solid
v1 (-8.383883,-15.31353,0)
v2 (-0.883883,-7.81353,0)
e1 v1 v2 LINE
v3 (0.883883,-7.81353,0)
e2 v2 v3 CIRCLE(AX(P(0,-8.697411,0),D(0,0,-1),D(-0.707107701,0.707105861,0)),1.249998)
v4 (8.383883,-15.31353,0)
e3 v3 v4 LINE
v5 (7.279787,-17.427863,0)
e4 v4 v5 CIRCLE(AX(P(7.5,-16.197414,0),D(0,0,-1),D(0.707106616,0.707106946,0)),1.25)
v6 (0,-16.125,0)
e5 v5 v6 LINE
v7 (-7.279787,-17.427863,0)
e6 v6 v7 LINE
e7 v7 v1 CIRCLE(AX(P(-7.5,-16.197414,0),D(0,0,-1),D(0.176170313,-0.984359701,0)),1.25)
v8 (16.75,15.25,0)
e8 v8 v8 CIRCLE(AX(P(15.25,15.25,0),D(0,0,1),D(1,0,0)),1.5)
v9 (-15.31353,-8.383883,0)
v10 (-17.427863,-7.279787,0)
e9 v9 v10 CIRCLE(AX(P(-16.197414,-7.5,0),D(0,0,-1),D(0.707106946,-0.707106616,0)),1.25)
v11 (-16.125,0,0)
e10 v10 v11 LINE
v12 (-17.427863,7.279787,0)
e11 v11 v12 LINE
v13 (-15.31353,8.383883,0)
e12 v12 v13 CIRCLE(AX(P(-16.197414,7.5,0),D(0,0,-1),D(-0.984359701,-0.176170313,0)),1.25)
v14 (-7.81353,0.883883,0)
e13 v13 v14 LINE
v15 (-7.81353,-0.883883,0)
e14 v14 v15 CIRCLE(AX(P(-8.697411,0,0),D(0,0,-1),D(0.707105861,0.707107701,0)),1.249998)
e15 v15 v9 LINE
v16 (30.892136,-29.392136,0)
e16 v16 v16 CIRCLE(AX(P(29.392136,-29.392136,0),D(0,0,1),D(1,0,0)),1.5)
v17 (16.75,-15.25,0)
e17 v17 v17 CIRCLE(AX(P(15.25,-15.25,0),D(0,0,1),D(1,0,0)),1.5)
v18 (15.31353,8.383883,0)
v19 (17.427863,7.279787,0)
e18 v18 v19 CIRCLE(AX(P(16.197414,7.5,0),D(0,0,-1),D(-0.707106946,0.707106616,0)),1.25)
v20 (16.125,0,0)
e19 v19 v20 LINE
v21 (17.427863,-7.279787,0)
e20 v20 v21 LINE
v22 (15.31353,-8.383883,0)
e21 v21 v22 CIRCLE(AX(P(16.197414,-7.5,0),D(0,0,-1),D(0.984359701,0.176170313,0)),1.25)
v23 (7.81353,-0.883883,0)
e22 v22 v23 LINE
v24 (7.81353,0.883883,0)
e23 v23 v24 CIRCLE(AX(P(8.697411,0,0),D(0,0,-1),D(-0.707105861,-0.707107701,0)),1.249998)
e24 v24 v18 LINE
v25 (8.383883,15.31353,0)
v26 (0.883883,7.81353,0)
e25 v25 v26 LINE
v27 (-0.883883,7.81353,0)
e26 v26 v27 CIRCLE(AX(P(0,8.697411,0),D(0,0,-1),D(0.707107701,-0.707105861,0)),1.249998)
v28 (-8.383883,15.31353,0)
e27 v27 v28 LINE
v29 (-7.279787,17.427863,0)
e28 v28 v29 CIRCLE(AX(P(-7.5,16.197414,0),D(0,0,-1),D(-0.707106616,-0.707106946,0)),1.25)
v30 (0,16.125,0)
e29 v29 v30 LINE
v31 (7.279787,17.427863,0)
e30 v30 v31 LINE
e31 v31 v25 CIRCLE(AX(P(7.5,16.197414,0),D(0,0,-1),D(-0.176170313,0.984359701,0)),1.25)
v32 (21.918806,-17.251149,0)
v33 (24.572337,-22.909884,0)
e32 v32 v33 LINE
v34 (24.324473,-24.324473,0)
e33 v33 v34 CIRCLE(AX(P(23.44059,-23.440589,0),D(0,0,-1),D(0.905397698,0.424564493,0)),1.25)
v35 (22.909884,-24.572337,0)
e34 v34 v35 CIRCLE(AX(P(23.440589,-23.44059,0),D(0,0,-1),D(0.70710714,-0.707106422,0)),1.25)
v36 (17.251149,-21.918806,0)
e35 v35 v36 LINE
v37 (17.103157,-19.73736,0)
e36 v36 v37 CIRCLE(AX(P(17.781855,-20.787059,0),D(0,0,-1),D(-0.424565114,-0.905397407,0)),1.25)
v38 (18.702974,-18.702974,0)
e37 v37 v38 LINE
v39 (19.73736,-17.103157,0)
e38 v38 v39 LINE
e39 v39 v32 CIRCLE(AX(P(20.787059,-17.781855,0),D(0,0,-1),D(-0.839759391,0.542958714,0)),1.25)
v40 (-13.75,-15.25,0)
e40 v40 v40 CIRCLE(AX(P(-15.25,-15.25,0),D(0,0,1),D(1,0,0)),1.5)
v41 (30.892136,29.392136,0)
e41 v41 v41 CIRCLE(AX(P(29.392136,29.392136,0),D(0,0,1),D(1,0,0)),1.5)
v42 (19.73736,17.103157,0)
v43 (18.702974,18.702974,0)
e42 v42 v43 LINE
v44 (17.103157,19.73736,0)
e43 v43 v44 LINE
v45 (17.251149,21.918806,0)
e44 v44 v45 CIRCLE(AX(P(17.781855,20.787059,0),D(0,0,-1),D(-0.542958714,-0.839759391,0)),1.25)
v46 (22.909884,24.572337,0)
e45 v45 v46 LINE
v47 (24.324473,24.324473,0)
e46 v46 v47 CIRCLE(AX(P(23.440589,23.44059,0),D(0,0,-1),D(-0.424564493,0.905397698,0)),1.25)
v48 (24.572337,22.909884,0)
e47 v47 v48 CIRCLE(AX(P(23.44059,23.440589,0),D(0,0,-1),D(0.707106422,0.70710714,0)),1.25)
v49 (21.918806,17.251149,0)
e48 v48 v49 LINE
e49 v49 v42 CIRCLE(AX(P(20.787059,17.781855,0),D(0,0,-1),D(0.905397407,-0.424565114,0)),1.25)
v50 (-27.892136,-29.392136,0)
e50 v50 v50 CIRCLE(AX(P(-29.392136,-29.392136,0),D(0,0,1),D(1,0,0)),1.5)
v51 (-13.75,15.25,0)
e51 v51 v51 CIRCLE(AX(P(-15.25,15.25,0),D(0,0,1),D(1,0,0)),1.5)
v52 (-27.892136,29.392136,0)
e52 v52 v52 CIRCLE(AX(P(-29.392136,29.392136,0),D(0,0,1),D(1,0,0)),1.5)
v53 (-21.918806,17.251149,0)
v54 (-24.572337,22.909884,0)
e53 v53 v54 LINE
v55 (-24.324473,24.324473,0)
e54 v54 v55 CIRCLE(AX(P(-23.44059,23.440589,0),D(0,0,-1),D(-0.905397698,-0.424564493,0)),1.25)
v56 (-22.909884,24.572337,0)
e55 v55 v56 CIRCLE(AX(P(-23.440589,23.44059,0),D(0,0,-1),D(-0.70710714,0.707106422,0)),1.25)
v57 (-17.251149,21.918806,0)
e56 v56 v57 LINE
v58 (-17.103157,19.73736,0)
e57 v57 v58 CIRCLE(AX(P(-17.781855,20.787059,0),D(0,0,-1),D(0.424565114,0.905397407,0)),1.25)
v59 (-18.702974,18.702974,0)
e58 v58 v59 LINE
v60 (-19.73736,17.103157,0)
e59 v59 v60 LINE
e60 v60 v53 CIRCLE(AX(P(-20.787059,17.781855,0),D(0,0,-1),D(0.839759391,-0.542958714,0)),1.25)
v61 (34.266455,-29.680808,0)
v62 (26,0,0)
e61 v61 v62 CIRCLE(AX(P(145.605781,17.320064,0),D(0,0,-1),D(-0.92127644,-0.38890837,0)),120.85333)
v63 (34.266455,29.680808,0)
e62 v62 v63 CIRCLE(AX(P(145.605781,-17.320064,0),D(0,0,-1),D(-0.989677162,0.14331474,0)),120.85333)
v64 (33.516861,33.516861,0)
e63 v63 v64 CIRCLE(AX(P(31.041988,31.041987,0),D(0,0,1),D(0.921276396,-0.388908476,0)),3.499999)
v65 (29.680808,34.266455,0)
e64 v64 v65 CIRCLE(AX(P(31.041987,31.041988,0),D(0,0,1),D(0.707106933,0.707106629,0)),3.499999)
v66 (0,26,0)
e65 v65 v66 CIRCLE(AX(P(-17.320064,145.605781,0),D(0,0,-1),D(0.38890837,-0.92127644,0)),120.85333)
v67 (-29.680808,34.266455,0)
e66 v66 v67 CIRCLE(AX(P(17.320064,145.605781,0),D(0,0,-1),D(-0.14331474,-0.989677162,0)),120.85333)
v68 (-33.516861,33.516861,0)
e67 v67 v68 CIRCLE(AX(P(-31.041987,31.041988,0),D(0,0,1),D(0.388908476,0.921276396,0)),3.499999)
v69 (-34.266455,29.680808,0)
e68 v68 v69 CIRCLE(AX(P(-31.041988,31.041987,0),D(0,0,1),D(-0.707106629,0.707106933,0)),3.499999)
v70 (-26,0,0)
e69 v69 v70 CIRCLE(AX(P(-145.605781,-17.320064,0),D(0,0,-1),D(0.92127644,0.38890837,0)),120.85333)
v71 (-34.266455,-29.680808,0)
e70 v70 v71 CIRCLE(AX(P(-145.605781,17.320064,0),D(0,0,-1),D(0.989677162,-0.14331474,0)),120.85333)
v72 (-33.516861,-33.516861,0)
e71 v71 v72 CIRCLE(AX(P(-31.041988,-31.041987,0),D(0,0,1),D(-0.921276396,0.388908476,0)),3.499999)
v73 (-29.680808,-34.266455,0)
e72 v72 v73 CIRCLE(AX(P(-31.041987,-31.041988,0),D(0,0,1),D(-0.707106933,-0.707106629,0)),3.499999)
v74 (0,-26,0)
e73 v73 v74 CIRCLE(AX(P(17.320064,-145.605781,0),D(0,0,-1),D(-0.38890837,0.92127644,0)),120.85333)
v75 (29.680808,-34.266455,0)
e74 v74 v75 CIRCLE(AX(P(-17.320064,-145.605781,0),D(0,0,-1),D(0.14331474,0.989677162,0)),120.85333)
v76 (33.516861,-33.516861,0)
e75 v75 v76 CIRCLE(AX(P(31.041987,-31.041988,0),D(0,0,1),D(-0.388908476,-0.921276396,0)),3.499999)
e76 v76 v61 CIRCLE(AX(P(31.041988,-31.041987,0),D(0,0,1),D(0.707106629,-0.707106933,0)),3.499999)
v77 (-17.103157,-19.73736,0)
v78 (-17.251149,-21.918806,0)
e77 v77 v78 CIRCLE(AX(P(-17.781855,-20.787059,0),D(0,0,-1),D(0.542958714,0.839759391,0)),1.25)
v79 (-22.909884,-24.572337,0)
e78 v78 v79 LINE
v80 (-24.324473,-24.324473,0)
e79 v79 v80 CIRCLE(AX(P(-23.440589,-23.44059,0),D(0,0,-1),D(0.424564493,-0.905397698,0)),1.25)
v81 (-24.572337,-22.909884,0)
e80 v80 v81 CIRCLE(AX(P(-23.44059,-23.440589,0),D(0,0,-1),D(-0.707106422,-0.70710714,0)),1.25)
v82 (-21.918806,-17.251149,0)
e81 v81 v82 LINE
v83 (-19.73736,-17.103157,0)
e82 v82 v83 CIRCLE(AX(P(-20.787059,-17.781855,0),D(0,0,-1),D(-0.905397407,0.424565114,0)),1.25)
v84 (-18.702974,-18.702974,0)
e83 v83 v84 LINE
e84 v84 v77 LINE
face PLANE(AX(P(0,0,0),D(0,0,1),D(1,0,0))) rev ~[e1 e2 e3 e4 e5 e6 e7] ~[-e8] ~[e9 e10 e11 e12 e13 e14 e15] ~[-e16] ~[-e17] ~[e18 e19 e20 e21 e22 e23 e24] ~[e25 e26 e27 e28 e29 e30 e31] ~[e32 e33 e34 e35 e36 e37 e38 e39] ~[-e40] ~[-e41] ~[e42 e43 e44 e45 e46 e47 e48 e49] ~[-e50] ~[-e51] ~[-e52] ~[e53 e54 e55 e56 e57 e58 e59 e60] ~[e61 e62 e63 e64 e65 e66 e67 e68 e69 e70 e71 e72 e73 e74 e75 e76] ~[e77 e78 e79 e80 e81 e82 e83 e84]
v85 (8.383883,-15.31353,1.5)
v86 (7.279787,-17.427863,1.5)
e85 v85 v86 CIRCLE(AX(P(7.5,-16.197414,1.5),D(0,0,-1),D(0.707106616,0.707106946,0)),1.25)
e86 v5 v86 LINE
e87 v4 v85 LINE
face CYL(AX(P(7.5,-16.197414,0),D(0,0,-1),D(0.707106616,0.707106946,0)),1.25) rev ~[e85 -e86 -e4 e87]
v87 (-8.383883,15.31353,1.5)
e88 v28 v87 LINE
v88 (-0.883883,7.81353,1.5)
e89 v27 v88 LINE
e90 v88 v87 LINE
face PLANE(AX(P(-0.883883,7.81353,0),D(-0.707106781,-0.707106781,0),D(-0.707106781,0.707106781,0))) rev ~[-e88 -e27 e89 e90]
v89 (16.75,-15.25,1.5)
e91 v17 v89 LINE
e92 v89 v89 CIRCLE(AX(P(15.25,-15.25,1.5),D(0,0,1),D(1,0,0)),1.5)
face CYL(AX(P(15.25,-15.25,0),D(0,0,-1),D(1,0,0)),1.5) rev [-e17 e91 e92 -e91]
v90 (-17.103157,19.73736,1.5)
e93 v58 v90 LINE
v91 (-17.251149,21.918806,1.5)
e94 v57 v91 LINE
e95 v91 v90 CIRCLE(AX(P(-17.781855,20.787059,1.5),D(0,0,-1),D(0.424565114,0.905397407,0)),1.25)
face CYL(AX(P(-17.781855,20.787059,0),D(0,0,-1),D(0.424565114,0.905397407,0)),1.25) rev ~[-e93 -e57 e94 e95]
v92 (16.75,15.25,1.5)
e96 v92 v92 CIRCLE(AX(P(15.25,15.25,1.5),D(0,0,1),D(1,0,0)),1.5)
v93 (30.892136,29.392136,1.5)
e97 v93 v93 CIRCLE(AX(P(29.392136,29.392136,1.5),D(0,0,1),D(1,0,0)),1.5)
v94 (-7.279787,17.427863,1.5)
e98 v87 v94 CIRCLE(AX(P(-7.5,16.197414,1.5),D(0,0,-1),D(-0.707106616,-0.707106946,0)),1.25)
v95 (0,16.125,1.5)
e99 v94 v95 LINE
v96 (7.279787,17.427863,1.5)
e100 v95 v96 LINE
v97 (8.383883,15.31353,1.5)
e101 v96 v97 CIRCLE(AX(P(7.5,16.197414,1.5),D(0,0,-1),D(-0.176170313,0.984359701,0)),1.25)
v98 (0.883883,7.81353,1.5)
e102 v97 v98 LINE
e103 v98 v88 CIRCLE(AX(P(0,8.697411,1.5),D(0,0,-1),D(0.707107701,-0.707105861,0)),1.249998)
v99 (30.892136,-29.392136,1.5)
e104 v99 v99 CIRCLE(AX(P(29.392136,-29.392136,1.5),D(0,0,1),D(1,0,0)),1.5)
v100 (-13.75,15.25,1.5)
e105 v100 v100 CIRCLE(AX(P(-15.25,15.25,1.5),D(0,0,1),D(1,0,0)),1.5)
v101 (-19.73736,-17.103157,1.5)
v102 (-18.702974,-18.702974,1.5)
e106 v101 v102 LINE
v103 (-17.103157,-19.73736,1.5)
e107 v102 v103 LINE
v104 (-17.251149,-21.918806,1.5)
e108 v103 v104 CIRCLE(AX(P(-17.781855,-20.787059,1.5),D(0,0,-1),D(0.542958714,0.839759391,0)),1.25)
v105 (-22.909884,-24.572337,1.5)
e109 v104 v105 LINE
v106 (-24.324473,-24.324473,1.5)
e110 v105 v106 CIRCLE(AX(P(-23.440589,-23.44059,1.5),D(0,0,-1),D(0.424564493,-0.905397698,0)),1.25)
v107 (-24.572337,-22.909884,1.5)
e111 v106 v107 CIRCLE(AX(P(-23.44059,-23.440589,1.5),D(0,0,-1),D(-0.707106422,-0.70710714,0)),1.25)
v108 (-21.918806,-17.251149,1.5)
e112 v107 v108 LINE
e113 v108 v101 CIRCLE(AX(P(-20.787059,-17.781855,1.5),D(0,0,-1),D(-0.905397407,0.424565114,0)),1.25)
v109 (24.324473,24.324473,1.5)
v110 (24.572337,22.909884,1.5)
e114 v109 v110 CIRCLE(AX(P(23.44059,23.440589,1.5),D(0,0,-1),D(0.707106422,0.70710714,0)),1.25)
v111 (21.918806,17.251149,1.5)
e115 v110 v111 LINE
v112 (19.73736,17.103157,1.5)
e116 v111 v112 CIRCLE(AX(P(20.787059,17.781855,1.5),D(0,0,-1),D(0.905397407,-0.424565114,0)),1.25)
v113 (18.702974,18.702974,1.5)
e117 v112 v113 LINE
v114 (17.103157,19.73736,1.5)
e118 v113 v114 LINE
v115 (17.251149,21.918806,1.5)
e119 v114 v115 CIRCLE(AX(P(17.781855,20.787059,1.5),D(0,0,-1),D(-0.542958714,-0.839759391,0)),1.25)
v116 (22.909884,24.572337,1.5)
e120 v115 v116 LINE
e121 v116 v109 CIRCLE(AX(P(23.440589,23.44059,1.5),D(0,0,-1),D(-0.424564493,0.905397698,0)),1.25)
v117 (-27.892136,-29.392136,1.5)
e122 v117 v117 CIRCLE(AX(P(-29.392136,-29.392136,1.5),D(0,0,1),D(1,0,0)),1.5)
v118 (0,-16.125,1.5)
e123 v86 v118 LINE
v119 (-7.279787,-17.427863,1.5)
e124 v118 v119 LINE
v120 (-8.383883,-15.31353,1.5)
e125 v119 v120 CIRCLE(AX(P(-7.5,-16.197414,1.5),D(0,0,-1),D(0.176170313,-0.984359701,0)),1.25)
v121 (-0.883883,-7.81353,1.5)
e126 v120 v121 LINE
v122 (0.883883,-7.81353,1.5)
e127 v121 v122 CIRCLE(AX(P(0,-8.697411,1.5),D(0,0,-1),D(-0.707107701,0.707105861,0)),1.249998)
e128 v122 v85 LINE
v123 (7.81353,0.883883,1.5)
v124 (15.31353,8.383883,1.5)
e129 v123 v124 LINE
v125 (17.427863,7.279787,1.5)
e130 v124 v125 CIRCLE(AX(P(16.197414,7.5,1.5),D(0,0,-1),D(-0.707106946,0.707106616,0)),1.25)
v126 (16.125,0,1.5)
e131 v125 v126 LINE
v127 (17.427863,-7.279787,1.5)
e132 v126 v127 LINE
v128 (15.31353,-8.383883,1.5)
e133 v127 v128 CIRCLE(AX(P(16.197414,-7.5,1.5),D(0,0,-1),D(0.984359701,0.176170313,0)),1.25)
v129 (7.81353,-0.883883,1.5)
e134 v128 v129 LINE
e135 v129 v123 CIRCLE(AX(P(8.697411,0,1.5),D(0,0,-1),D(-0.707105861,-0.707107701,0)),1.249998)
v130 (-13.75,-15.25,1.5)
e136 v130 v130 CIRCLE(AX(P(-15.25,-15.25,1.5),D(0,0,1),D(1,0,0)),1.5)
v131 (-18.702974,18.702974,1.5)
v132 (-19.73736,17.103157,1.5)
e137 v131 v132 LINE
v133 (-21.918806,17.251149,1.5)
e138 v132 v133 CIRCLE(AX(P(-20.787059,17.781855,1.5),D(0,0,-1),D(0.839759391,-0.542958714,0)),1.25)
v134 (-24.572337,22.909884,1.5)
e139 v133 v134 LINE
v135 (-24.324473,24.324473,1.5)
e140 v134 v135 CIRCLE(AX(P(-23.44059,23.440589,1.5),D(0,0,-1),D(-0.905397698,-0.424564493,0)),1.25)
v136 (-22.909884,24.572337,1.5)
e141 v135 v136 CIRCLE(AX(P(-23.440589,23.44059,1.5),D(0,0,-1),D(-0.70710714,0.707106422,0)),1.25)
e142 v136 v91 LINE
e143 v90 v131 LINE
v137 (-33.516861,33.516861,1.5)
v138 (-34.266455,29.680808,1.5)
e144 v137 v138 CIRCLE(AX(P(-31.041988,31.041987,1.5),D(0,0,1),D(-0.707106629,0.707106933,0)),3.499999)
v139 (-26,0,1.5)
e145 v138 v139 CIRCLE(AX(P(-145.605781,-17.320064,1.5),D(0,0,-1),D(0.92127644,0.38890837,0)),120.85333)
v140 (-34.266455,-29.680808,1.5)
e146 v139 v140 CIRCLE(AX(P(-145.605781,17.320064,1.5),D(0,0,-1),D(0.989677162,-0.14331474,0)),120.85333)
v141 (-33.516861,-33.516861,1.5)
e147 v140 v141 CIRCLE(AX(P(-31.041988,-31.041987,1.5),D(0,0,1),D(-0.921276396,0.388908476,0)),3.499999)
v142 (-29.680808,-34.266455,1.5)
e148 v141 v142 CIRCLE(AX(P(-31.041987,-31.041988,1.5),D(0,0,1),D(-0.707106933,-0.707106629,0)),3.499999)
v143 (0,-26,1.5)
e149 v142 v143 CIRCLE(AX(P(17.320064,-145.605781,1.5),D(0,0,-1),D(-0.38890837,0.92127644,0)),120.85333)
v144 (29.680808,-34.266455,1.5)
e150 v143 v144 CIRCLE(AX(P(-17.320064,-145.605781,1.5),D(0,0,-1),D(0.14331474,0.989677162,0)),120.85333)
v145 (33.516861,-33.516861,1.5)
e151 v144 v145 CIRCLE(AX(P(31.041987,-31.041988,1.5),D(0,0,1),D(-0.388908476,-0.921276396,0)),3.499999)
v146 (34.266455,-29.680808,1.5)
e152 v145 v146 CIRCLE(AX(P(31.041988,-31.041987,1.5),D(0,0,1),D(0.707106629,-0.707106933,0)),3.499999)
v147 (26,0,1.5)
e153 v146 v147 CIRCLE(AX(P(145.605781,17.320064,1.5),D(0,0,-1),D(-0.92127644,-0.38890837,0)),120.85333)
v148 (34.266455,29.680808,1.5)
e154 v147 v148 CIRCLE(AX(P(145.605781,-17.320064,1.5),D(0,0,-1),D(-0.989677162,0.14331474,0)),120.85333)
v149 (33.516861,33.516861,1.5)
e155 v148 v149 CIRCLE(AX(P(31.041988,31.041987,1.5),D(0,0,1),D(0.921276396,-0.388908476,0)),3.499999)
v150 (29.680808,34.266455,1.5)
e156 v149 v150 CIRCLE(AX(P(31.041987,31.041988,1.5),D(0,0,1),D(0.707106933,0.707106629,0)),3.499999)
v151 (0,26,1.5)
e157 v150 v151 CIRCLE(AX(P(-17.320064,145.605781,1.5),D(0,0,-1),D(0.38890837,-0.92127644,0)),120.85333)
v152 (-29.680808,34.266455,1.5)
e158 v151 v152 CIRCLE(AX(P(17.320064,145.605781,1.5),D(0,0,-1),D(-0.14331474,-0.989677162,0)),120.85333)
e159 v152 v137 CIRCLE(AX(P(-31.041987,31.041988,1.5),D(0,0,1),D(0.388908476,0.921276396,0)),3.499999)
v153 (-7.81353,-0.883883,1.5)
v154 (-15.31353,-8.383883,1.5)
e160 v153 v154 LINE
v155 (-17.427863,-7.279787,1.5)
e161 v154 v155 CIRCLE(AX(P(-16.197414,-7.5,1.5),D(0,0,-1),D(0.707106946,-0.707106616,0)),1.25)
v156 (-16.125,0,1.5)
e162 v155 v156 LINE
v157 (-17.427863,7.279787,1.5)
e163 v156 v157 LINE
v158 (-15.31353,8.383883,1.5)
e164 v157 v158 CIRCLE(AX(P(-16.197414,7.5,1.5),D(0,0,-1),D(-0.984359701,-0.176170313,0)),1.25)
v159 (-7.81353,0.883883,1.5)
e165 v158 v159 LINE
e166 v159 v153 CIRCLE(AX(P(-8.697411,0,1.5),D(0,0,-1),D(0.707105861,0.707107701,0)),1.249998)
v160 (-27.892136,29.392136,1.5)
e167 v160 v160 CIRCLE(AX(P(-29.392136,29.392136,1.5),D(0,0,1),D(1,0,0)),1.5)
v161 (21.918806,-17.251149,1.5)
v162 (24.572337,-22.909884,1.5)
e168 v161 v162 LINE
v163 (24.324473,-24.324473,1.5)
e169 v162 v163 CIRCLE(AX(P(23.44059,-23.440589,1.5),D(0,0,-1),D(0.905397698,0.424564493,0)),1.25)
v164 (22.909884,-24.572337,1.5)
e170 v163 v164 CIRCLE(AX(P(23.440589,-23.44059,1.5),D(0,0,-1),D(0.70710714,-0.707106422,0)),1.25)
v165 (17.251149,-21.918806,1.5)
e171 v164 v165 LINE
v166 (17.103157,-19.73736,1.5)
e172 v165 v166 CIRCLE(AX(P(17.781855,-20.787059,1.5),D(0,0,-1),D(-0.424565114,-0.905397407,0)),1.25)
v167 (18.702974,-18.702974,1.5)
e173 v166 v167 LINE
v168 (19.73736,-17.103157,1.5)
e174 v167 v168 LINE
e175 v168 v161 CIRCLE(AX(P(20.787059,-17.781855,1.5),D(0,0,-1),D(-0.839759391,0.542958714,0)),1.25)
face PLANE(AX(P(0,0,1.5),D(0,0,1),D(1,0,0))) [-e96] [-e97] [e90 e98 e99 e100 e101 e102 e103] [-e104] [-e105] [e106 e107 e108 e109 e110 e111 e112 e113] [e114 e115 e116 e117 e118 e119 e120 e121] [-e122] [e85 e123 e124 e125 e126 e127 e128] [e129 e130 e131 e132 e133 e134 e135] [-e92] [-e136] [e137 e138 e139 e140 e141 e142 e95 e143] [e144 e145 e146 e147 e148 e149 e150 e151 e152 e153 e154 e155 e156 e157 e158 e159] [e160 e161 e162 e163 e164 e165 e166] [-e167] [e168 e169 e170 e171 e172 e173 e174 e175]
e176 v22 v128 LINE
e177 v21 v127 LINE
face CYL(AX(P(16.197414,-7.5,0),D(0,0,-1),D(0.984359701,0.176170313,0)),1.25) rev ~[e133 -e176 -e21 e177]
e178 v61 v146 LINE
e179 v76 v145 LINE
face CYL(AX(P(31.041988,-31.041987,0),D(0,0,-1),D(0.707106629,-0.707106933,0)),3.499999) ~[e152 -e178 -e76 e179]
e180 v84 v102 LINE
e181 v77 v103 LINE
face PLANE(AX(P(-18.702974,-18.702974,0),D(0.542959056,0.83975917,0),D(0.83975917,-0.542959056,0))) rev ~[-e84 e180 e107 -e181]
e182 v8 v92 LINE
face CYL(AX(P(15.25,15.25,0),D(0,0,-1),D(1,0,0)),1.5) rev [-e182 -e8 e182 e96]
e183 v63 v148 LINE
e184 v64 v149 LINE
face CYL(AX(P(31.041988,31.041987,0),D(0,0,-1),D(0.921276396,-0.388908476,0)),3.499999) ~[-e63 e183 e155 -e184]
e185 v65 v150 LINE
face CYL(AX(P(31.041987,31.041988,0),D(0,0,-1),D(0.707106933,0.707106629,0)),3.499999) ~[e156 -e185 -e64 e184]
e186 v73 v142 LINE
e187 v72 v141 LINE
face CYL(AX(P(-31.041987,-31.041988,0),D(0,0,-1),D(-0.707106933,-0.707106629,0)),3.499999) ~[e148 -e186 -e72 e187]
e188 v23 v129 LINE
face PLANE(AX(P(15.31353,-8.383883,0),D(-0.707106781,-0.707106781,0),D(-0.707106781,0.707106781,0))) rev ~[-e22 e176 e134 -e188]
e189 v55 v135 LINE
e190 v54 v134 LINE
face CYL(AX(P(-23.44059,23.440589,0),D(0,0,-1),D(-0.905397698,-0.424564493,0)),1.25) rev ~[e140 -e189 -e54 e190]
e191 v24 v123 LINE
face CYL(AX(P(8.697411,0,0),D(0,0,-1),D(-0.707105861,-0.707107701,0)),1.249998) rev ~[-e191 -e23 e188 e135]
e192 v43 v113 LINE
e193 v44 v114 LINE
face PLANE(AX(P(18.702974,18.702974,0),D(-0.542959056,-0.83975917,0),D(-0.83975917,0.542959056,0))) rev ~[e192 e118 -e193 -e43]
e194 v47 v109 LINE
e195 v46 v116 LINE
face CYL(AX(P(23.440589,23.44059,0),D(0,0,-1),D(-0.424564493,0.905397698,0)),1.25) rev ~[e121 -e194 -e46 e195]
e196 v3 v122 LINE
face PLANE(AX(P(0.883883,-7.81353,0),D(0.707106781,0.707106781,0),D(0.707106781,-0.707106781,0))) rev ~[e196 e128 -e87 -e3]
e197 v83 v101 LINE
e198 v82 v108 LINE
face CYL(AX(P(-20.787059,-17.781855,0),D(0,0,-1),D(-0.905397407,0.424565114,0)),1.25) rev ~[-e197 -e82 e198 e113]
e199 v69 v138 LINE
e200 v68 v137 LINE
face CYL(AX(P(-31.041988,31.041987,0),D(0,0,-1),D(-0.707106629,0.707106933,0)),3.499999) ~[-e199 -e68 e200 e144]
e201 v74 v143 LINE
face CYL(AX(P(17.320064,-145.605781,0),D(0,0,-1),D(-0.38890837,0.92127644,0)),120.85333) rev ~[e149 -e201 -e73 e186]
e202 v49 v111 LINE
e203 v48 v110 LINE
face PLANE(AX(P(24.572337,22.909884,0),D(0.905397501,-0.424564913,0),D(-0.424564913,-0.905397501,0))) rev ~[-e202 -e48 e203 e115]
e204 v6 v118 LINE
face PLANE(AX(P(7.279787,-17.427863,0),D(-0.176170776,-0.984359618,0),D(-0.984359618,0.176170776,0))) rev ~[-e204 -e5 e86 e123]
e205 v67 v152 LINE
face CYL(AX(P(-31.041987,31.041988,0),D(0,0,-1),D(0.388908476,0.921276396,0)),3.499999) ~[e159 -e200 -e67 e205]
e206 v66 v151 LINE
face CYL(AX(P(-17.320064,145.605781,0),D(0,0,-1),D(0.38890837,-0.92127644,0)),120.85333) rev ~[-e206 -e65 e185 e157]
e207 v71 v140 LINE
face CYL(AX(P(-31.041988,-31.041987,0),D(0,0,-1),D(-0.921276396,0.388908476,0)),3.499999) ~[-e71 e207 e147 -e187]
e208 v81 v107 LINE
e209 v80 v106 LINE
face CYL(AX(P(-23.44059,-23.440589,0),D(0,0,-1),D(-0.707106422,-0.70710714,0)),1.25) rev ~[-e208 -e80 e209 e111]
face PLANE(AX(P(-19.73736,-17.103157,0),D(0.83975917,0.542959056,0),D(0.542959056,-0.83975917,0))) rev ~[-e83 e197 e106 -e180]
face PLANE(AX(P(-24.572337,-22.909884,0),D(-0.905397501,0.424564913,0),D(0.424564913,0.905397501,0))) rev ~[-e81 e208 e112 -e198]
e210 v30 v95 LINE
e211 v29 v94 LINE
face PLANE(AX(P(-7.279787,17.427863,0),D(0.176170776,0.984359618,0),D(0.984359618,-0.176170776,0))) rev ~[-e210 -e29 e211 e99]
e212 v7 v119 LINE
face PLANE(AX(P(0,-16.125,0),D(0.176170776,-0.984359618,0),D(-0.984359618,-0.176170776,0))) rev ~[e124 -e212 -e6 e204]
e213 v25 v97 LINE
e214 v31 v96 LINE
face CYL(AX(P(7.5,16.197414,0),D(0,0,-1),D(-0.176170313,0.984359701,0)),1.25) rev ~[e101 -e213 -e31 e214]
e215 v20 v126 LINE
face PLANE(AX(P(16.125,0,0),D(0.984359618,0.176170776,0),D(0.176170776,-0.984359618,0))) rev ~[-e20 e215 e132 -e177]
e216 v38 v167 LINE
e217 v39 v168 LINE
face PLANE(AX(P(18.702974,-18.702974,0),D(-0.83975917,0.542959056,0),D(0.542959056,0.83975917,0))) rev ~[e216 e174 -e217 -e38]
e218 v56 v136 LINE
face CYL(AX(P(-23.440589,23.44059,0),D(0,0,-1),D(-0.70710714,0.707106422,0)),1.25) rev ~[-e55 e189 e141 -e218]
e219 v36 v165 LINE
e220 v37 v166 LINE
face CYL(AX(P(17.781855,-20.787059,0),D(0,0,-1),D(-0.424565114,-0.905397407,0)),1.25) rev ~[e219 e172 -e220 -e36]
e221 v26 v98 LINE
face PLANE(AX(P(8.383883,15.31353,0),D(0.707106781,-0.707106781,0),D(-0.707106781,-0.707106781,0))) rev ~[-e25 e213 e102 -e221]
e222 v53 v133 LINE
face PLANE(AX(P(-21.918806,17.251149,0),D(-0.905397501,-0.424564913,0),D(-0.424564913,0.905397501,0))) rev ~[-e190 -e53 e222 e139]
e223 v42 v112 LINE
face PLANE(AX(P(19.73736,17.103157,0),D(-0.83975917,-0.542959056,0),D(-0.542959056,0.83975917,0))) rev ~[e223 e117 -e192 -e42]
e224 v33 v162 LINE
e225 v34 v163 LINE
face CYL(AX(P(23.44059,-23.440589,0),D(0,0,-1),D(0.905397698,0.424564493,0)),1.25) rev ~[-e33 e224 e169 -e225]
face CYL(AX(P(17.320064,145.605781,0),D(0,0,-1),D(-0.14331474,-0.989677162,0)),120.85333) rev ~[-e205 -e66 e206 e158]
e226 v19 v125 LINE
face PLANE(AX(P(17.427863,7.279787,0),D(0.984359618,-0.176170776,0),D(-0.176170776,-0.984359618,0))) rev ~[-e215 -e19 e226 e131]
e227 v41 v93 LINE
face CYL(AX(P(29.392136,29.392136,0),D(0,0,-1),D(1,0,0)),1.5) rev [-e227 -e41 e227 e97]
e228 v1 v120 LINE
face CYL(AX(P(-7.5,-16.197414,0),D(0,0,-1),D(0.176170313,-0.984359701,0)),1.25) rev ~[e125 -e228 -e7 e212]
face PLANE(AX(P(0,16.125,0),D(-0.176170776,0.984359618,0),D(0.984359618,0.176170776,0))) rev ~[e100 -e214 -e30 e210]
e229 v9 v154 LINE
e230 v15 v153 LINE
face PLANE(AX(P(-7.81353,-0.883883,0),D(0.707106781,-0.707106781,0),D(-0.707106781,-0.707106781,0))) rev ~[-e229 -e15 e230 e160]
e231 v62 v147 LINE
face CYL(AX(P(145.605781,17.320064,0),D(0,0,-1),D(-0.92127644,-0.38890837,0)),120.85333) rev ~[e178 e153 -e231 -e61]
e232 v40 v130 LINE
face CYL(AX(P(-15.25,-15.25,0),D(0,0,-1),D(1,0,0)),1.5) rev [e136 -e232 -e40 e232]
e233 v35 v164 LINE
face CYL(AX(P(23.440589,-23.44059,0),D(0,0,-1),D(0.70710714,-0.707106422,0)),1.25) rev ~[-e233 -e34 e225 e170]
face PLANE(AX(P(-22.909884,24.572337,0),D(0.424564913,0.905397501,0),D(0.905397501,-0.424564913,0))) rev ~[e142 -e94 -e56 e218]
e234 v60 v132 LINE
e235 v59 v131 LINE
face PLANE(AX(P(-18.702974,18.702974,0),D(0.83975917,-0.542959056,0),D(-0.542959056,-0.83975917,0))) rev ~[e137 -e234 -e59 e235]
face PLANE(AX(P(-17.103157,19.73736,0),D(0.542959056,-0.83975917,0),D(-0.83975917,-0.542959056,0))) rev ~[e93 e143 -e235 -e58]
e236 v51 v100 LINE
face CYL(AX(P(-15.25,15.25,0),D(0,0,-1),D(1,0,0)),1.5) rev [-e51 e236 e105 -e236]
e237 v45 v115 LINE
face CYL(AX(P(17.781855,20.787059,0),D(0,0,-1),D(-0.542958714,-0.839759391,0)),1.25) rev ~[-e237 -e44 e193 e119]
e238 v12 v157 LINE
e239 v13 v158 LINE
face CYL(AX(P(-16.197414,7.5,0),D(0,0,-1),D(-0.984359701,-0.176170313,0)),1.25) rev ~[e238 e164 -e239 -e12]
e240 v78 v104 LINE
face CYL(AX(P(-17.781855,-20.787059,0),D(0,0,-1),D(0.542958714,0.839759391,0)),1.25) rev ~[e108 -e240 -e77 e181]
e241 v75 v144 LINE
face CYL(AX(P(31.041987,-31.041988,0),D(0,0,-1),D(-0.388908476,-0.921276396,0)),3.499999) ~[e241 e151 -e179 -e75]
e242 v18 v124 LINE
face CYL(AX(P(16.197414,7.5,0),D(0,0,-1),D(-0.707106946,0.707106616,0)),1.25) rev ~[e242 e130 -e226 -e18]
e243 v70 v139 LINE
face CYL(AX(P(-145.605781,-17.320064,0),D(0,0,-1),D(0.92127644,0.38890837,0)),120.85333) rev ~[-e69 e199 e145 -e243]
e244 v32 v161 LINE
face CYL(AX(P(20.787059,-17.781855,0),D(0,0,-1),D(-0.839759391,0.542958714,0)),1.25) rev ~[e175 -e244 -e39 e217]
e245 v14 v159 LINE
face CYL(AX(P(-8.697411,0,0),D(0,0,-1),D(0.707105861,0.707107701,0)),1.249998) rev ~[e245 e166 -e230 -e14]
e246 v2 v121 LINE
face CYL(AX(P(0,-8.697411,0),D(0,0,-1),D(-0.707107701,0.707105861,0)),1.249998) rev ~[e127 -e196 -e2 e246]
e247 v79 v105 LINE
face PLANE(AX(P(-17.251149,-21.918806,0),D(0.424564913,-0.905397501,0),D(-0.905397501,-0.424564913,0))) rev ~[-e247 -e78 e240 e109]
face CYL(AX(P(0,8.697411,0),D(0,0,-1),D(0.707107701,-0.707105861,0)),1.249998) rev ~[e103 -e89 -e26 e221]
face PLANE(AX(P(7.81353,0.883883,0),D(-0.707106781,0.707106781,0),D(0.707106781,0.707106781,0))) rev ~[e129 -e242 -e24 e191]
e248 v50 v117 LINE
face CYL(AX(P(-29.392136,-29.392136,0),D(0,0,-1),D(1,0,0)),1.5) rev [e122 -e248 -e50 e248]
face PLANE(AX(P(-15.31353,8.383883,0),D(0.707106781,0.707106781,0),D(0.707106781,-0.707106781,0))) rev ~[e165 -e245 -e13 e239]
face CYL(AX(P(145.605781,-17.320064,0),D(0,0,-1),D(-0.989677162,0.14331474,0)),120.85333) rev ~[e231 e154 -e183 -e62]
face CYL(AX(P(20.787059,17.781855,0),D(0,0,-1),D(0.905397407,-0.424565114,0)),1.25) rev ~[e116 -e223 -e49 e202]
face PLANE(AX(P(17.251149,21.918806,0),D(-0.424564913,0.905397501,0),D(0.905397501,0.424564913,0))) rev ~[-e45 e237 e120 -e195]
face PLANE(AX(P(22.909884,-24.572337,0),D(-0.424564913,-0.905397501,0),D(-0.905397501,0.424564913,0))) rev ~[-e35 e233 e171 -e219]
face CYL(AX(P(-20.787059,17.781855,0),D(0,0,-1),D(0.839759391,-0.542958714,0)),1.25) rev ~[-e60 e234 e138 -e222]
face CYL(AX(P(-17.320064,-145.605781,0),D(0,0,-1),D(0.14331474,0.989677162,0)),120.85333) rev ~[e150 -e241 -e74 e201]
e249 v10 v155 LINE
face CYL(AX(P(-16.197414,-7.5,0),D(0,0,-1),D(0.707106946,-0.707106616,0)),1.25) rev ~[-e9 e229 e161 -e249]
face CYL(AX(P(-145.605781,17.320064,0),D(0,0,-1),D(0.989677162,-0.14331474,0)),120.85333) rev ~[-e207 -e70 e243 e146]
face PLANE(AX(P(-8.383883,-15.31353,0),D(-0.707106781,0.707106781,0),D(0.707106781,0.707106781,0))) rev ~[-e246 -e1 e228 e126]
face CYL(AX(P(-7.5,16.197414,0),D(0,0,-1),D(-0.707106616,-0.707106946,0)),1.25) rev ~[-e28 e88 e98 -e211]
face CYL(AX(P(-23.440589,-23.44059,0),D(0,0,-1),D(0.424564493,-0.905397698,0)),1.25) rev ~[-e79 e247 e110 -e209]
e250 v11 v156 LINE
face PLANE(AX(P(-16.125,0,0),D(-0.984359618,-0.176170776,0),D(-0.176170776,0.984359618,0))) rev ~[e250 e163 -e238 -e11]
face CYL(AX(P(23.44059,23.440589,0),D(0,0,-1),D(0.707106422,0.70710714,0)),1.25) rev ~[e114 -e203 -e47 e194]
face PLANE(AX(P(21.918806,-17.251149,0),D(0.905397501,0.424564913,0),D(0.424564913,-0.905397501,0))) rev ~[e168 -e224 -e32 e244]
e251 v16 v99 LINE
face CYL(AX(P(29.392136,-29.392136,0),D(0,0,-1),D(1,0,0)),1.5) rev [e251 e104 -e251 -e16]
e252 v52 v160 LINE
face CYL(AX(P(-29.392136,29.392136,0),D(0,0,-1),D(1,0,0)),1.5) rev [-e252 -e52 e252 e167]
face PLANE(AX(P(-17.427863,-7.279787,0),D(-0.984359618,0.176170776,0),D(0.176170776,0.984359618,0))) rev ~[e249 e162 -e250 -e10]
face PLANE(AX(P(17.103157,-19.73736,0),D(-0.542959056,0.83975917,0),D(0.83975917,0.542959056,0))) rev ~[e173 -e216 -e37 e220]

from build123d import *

# Parameters (mm, degrees)
F0_R     = 1.5
F1_DEPTH = 1.5


with BuildPart() as f1:
    # F0 (on Top) → F1 (new body)
    with BuildSketch(Plane.XY):
        with BuildLine():
            ThreePointArc((26, 0), (29.183497, 15.104915), (34.266455, 29.680808))
            ThreePointArc((34.266455, 29.680808), (34.47702, 31.713219), (33.516861, 33.516861))
            ThreePointArc((33.516861, 33.516861), (31.713219, 34.47702), (29.680808, 34.266455))
            ThreePointArc((29.680808, 34.266455), (15.104915, 29.183497), (0, 26))
            ThreePointArc((0, 26), (-15.104915, 29.183497), (-29.680808, 34.266455))
            ThreePointArc((-29.680808, 34.266455), (-31.713219, 34.47702), (-33.516861, 33.516861))
            ThreePointArc((-33.516861, 33.516861), (-34.47702, 31.713219), (-34.266455, 29.680808))
            ThreePointArc((-34.266455, 29.680808), (-29.183497, 15.104915), (-26, 0))
            ThreePointArc((-26, 0), (-29.183497, -15.104915), (-34.266455, -29.680808))
            ThreePointArc((-34.266455, -29.680808), (-34.47702, -31.713219), (-33.516861, -33.516861))
            ThreePointArc((-33.516861, -33.516861), (-31.713219, -34.47702), (-29.680808, -34.266455))
            ThreePointArc((-29.680808, -34.266455), (-15.104915, -29.183497), (0, -26))
            ThreePointArc((0, -26), (15.104915, -29.183497), (29.680808, -34.266455))
            ThreePointArc((29.680808, -34.266455), (31.713219, -34.47702), (33.516861, -33.516861))
            ThreePointArc((33.516861, -33.516861), (34.47702, -31.713219), (34.266455, -29.680808))
            ThreePointArc((34.266455, -29.680808), (29.183497, -15.104915), (26, 0))
        make_face()
        with Locations((-29.392136, -29.392136)):
            Circle(F0_R, mode=Mode.SUBTRACT)
        with BuildLine():
            ThreePointArc((-24.324473, -24.324473), (-24.671832, -23.656327), (-24.572337, -22.909884))
            Line((-24.572337, -22.909884), (-21.918806, -17.251149))
            ThreePointArc((-21.918806, -17.251149), (-20.871666, -16.534722), (-19.73736, -17.103157))
            Line((-19.73736, -17.103157), (-18.702974, -18.702974))
            Line((-18.702974, -18.702974), (-17.103157, -19.73736))
            ThreePointArc((-17.103157, -19.73736), (-16.534722, -20.871666), (-17.251149, -21.918806))
            Line((-17.251149, -21.918806), (-22.909884, -24.572337))
            ThreePointArc((-22.909884, -24.572337), (-23.656327, -24.671832), (-24.324473, -24.324473))
        make_face(mode=Mode.SUBTRACT)
        with Locations((-15.25, -15.25)):
            Circle(F0_R, mode=Mode.SUBTRACT)
        with Locations((29.392136, -29.392136)):
            Circle(F0_R, mode=Mode.SUBTRACT)
        with BuildLine():
            Line((21.918806, -17.251149), (24.572337, -22.909884))
            ThreePointArc((24.572337, -22.909884), (24.671832, -23.656327), (24.324473, -24.324473))
            ThreePointArc((24.324473, -24.324473), (23.656327, -24.671832), (22.909884, -24.572337))
            Line((22.909884, -24.572337), (17.251149, -21.918806))
            ThreePointArc((17.251149, -21.918806), (16.534722, -20.871666), (17.103157, -19.73736))
            Line((17.103157, -19.73736), (18.702974, -18.702974))
            Line((18.702974, -18.702974), (19.73736, -17.103157))
            ThreePointArc((19.73736, -17.103157), (20.871666, -16.534722), (21.918806, -17.251149))
        make_face(mode=Mode.SUBTRACT)
        with BuildLine():
            ThreePointArc((8.383883, -15.31353), (8.608023, -16.776019), (7.279787, -17.427863))
            Line((7.279787, -17.427863), (0, -16.125))
            Line((0, -16.125), (-7.279787, -17.427863))
            ThreePointArc((-7.279787, -17.427863), (-8.608023, -16.776019), (-8.383883, -15.31353))
            Line((-8.383883, -15.31353), (-0.883883, -7.81353))
            ThreePointArc((-0.883883, -7.81353), (0, -7.447413), (0.883883, -7.81353))
            Line((0.883883, -7.81353), (8.383883, -15.31353))
        make_face(mode=Mode.SUBTRACT)
        with Locations((15.25, -15.25)):
            Circle(F0_R, mode=Mode.SUBTRACT)
        with BuildLine():
            Line((-16.125, 0), (-17.427863, 7.279787))
            ThreePointArc((-17.427863, 7.279787), (-16.776019, 8.608023), (-15.31353, 8.383883))
            Line((-15.31353, 8.383883), (-7.81353, 0.883883))
            ThreePointArc((-7.81353, 0.883883), (-7.447413, 0), (-7.81353, -0.883883))
            Line((-7.81353, -0.883883), (-15.31353, -8.383883))
            ThreePointArc((-15.31353, -8.383883), (-16.776019, -8.608023), (-17.427863, -7.279787))
            Line((-17.427863, -7.279787), (-16.125, 0))
        make_face(mode=Mode.SUBTRACT)
        with Locations((-15.25, 15.25)):
            Circle(F0_R, mode=Mode.SUBTRACT)
        with BuildLine():
            ThreePointArc((-17.251149, 21.918806), (-16.534722, 20.871666), (-17.103157, 19.73736))
            Line((-17.103157, 19.73736), (-18.702974, 18.702974))
            Line((-18.702974, 18.702974), (-19.73736, 17.103157))
            ThreePointArc((-19.73736, 17.103157), (-20.871666, 16.534722), (-21.918806, 17.251149))
            Line((-21.918806, 17.251149), (-24.572337, 22.909884))
            ThreePointArc((-24.572337, 22.909884), (-24.671832, 23.656327), (-24.324473, 24.324473))
            ThreePointArc((-24.324473, 24.324473), (-23.656327, 24.671832), (-22.909884, 24.572337))
            Line((-22.909884, 24.572337), (-17.251149, 21.918806))
        make_face(mode=Mode.SUBTRACT)
        with Locations((-29.392136, 29.392136)):
            Circle(F0_R, mode=Mode.SUBTRACT)
        with BuildLine():
            ThreePointArc((7.81353, -0.883883), (7.447413, 0), (7.81353, 0.883883))
            Line((7.81353, 0.883883), (15.31353, 8.383883))
            ThreePointArc((15.31353, 8.383883), (16.776019, 8.608023), (17.427863, 7.279787))
            Line((17.427863, 7.279787), (16.125, 0))
            Line((16.125, 0), (17.427863, -7.279787))
            ThreePointArc((17.427863, -7.279787), (16.776019, -8.608023), (15.31353, -8.383883))
            Line((15.31353, -8.383883), (7.81353, -0.883883))
        make_face(mode=Mode.SUBTRACT)
        with BuildLine():
            Line((-7.279787, 17.427863), (0, 16.125))
            Line((0, 16.125), (7.279787, 17.427863))
            ThreePointArc((7.279787, 17.427863), (8.608023, 16.776019), (8.383883, 15.31353))
            Line((8.383883, 15.31353), (0.883883, 7.81353))
            ThreePointArc((0.883883, 7.81353), (0, 7.447413), (-0.883883, 7.81353))
            Line((-0.883883, 7.81353), (-8.383883, 15.31353))
            ThreePointArc((-8.383883, 15.31353), (-8.608023, 16.776019), (-7.279787, 17.427863))
        make_face(mode=Mode.SUBTRACT)
        with Locations((15.25, 15.25)):
            Circle(F0_R, mode=Mode.SUBTRACT)
        with BuildLine():
            Line((19.73736, 17.103157), (18.702974, 18.702974))
            Line((18.702974, 18.702974), (17.103157, 19.73736))
            ThreePointArc((17.103157, 19.73736), (16.534722, 20.871666), (17.251149, 21.918806))
            Line((17.251149, 21.918806), (22.909884, 24.572337))
            ThreePointArc((22.909884, 24.572337), (23.656327, 24.671832), (24.324473, 24.324473))
            ThreePointArc((24.324473, 24.324473), (24.671832, 23.656327), (24.572337, 22.909884))
            Line((24.572337, 22.909884), (21.918806, 17.251149))
            ThreePointArc((21.918806, 17.251149), (20.871666, 16.534722), (19.73736, 17.103157))
        make_face(mode=Mode.SUBTRACT)
        with Locations((29.392136, 29.392136)):
            Circle(F0_R, mode=Mode.SUBTRACT)
    extrude(amount=F1_DEPTH)


solid = f1.part
